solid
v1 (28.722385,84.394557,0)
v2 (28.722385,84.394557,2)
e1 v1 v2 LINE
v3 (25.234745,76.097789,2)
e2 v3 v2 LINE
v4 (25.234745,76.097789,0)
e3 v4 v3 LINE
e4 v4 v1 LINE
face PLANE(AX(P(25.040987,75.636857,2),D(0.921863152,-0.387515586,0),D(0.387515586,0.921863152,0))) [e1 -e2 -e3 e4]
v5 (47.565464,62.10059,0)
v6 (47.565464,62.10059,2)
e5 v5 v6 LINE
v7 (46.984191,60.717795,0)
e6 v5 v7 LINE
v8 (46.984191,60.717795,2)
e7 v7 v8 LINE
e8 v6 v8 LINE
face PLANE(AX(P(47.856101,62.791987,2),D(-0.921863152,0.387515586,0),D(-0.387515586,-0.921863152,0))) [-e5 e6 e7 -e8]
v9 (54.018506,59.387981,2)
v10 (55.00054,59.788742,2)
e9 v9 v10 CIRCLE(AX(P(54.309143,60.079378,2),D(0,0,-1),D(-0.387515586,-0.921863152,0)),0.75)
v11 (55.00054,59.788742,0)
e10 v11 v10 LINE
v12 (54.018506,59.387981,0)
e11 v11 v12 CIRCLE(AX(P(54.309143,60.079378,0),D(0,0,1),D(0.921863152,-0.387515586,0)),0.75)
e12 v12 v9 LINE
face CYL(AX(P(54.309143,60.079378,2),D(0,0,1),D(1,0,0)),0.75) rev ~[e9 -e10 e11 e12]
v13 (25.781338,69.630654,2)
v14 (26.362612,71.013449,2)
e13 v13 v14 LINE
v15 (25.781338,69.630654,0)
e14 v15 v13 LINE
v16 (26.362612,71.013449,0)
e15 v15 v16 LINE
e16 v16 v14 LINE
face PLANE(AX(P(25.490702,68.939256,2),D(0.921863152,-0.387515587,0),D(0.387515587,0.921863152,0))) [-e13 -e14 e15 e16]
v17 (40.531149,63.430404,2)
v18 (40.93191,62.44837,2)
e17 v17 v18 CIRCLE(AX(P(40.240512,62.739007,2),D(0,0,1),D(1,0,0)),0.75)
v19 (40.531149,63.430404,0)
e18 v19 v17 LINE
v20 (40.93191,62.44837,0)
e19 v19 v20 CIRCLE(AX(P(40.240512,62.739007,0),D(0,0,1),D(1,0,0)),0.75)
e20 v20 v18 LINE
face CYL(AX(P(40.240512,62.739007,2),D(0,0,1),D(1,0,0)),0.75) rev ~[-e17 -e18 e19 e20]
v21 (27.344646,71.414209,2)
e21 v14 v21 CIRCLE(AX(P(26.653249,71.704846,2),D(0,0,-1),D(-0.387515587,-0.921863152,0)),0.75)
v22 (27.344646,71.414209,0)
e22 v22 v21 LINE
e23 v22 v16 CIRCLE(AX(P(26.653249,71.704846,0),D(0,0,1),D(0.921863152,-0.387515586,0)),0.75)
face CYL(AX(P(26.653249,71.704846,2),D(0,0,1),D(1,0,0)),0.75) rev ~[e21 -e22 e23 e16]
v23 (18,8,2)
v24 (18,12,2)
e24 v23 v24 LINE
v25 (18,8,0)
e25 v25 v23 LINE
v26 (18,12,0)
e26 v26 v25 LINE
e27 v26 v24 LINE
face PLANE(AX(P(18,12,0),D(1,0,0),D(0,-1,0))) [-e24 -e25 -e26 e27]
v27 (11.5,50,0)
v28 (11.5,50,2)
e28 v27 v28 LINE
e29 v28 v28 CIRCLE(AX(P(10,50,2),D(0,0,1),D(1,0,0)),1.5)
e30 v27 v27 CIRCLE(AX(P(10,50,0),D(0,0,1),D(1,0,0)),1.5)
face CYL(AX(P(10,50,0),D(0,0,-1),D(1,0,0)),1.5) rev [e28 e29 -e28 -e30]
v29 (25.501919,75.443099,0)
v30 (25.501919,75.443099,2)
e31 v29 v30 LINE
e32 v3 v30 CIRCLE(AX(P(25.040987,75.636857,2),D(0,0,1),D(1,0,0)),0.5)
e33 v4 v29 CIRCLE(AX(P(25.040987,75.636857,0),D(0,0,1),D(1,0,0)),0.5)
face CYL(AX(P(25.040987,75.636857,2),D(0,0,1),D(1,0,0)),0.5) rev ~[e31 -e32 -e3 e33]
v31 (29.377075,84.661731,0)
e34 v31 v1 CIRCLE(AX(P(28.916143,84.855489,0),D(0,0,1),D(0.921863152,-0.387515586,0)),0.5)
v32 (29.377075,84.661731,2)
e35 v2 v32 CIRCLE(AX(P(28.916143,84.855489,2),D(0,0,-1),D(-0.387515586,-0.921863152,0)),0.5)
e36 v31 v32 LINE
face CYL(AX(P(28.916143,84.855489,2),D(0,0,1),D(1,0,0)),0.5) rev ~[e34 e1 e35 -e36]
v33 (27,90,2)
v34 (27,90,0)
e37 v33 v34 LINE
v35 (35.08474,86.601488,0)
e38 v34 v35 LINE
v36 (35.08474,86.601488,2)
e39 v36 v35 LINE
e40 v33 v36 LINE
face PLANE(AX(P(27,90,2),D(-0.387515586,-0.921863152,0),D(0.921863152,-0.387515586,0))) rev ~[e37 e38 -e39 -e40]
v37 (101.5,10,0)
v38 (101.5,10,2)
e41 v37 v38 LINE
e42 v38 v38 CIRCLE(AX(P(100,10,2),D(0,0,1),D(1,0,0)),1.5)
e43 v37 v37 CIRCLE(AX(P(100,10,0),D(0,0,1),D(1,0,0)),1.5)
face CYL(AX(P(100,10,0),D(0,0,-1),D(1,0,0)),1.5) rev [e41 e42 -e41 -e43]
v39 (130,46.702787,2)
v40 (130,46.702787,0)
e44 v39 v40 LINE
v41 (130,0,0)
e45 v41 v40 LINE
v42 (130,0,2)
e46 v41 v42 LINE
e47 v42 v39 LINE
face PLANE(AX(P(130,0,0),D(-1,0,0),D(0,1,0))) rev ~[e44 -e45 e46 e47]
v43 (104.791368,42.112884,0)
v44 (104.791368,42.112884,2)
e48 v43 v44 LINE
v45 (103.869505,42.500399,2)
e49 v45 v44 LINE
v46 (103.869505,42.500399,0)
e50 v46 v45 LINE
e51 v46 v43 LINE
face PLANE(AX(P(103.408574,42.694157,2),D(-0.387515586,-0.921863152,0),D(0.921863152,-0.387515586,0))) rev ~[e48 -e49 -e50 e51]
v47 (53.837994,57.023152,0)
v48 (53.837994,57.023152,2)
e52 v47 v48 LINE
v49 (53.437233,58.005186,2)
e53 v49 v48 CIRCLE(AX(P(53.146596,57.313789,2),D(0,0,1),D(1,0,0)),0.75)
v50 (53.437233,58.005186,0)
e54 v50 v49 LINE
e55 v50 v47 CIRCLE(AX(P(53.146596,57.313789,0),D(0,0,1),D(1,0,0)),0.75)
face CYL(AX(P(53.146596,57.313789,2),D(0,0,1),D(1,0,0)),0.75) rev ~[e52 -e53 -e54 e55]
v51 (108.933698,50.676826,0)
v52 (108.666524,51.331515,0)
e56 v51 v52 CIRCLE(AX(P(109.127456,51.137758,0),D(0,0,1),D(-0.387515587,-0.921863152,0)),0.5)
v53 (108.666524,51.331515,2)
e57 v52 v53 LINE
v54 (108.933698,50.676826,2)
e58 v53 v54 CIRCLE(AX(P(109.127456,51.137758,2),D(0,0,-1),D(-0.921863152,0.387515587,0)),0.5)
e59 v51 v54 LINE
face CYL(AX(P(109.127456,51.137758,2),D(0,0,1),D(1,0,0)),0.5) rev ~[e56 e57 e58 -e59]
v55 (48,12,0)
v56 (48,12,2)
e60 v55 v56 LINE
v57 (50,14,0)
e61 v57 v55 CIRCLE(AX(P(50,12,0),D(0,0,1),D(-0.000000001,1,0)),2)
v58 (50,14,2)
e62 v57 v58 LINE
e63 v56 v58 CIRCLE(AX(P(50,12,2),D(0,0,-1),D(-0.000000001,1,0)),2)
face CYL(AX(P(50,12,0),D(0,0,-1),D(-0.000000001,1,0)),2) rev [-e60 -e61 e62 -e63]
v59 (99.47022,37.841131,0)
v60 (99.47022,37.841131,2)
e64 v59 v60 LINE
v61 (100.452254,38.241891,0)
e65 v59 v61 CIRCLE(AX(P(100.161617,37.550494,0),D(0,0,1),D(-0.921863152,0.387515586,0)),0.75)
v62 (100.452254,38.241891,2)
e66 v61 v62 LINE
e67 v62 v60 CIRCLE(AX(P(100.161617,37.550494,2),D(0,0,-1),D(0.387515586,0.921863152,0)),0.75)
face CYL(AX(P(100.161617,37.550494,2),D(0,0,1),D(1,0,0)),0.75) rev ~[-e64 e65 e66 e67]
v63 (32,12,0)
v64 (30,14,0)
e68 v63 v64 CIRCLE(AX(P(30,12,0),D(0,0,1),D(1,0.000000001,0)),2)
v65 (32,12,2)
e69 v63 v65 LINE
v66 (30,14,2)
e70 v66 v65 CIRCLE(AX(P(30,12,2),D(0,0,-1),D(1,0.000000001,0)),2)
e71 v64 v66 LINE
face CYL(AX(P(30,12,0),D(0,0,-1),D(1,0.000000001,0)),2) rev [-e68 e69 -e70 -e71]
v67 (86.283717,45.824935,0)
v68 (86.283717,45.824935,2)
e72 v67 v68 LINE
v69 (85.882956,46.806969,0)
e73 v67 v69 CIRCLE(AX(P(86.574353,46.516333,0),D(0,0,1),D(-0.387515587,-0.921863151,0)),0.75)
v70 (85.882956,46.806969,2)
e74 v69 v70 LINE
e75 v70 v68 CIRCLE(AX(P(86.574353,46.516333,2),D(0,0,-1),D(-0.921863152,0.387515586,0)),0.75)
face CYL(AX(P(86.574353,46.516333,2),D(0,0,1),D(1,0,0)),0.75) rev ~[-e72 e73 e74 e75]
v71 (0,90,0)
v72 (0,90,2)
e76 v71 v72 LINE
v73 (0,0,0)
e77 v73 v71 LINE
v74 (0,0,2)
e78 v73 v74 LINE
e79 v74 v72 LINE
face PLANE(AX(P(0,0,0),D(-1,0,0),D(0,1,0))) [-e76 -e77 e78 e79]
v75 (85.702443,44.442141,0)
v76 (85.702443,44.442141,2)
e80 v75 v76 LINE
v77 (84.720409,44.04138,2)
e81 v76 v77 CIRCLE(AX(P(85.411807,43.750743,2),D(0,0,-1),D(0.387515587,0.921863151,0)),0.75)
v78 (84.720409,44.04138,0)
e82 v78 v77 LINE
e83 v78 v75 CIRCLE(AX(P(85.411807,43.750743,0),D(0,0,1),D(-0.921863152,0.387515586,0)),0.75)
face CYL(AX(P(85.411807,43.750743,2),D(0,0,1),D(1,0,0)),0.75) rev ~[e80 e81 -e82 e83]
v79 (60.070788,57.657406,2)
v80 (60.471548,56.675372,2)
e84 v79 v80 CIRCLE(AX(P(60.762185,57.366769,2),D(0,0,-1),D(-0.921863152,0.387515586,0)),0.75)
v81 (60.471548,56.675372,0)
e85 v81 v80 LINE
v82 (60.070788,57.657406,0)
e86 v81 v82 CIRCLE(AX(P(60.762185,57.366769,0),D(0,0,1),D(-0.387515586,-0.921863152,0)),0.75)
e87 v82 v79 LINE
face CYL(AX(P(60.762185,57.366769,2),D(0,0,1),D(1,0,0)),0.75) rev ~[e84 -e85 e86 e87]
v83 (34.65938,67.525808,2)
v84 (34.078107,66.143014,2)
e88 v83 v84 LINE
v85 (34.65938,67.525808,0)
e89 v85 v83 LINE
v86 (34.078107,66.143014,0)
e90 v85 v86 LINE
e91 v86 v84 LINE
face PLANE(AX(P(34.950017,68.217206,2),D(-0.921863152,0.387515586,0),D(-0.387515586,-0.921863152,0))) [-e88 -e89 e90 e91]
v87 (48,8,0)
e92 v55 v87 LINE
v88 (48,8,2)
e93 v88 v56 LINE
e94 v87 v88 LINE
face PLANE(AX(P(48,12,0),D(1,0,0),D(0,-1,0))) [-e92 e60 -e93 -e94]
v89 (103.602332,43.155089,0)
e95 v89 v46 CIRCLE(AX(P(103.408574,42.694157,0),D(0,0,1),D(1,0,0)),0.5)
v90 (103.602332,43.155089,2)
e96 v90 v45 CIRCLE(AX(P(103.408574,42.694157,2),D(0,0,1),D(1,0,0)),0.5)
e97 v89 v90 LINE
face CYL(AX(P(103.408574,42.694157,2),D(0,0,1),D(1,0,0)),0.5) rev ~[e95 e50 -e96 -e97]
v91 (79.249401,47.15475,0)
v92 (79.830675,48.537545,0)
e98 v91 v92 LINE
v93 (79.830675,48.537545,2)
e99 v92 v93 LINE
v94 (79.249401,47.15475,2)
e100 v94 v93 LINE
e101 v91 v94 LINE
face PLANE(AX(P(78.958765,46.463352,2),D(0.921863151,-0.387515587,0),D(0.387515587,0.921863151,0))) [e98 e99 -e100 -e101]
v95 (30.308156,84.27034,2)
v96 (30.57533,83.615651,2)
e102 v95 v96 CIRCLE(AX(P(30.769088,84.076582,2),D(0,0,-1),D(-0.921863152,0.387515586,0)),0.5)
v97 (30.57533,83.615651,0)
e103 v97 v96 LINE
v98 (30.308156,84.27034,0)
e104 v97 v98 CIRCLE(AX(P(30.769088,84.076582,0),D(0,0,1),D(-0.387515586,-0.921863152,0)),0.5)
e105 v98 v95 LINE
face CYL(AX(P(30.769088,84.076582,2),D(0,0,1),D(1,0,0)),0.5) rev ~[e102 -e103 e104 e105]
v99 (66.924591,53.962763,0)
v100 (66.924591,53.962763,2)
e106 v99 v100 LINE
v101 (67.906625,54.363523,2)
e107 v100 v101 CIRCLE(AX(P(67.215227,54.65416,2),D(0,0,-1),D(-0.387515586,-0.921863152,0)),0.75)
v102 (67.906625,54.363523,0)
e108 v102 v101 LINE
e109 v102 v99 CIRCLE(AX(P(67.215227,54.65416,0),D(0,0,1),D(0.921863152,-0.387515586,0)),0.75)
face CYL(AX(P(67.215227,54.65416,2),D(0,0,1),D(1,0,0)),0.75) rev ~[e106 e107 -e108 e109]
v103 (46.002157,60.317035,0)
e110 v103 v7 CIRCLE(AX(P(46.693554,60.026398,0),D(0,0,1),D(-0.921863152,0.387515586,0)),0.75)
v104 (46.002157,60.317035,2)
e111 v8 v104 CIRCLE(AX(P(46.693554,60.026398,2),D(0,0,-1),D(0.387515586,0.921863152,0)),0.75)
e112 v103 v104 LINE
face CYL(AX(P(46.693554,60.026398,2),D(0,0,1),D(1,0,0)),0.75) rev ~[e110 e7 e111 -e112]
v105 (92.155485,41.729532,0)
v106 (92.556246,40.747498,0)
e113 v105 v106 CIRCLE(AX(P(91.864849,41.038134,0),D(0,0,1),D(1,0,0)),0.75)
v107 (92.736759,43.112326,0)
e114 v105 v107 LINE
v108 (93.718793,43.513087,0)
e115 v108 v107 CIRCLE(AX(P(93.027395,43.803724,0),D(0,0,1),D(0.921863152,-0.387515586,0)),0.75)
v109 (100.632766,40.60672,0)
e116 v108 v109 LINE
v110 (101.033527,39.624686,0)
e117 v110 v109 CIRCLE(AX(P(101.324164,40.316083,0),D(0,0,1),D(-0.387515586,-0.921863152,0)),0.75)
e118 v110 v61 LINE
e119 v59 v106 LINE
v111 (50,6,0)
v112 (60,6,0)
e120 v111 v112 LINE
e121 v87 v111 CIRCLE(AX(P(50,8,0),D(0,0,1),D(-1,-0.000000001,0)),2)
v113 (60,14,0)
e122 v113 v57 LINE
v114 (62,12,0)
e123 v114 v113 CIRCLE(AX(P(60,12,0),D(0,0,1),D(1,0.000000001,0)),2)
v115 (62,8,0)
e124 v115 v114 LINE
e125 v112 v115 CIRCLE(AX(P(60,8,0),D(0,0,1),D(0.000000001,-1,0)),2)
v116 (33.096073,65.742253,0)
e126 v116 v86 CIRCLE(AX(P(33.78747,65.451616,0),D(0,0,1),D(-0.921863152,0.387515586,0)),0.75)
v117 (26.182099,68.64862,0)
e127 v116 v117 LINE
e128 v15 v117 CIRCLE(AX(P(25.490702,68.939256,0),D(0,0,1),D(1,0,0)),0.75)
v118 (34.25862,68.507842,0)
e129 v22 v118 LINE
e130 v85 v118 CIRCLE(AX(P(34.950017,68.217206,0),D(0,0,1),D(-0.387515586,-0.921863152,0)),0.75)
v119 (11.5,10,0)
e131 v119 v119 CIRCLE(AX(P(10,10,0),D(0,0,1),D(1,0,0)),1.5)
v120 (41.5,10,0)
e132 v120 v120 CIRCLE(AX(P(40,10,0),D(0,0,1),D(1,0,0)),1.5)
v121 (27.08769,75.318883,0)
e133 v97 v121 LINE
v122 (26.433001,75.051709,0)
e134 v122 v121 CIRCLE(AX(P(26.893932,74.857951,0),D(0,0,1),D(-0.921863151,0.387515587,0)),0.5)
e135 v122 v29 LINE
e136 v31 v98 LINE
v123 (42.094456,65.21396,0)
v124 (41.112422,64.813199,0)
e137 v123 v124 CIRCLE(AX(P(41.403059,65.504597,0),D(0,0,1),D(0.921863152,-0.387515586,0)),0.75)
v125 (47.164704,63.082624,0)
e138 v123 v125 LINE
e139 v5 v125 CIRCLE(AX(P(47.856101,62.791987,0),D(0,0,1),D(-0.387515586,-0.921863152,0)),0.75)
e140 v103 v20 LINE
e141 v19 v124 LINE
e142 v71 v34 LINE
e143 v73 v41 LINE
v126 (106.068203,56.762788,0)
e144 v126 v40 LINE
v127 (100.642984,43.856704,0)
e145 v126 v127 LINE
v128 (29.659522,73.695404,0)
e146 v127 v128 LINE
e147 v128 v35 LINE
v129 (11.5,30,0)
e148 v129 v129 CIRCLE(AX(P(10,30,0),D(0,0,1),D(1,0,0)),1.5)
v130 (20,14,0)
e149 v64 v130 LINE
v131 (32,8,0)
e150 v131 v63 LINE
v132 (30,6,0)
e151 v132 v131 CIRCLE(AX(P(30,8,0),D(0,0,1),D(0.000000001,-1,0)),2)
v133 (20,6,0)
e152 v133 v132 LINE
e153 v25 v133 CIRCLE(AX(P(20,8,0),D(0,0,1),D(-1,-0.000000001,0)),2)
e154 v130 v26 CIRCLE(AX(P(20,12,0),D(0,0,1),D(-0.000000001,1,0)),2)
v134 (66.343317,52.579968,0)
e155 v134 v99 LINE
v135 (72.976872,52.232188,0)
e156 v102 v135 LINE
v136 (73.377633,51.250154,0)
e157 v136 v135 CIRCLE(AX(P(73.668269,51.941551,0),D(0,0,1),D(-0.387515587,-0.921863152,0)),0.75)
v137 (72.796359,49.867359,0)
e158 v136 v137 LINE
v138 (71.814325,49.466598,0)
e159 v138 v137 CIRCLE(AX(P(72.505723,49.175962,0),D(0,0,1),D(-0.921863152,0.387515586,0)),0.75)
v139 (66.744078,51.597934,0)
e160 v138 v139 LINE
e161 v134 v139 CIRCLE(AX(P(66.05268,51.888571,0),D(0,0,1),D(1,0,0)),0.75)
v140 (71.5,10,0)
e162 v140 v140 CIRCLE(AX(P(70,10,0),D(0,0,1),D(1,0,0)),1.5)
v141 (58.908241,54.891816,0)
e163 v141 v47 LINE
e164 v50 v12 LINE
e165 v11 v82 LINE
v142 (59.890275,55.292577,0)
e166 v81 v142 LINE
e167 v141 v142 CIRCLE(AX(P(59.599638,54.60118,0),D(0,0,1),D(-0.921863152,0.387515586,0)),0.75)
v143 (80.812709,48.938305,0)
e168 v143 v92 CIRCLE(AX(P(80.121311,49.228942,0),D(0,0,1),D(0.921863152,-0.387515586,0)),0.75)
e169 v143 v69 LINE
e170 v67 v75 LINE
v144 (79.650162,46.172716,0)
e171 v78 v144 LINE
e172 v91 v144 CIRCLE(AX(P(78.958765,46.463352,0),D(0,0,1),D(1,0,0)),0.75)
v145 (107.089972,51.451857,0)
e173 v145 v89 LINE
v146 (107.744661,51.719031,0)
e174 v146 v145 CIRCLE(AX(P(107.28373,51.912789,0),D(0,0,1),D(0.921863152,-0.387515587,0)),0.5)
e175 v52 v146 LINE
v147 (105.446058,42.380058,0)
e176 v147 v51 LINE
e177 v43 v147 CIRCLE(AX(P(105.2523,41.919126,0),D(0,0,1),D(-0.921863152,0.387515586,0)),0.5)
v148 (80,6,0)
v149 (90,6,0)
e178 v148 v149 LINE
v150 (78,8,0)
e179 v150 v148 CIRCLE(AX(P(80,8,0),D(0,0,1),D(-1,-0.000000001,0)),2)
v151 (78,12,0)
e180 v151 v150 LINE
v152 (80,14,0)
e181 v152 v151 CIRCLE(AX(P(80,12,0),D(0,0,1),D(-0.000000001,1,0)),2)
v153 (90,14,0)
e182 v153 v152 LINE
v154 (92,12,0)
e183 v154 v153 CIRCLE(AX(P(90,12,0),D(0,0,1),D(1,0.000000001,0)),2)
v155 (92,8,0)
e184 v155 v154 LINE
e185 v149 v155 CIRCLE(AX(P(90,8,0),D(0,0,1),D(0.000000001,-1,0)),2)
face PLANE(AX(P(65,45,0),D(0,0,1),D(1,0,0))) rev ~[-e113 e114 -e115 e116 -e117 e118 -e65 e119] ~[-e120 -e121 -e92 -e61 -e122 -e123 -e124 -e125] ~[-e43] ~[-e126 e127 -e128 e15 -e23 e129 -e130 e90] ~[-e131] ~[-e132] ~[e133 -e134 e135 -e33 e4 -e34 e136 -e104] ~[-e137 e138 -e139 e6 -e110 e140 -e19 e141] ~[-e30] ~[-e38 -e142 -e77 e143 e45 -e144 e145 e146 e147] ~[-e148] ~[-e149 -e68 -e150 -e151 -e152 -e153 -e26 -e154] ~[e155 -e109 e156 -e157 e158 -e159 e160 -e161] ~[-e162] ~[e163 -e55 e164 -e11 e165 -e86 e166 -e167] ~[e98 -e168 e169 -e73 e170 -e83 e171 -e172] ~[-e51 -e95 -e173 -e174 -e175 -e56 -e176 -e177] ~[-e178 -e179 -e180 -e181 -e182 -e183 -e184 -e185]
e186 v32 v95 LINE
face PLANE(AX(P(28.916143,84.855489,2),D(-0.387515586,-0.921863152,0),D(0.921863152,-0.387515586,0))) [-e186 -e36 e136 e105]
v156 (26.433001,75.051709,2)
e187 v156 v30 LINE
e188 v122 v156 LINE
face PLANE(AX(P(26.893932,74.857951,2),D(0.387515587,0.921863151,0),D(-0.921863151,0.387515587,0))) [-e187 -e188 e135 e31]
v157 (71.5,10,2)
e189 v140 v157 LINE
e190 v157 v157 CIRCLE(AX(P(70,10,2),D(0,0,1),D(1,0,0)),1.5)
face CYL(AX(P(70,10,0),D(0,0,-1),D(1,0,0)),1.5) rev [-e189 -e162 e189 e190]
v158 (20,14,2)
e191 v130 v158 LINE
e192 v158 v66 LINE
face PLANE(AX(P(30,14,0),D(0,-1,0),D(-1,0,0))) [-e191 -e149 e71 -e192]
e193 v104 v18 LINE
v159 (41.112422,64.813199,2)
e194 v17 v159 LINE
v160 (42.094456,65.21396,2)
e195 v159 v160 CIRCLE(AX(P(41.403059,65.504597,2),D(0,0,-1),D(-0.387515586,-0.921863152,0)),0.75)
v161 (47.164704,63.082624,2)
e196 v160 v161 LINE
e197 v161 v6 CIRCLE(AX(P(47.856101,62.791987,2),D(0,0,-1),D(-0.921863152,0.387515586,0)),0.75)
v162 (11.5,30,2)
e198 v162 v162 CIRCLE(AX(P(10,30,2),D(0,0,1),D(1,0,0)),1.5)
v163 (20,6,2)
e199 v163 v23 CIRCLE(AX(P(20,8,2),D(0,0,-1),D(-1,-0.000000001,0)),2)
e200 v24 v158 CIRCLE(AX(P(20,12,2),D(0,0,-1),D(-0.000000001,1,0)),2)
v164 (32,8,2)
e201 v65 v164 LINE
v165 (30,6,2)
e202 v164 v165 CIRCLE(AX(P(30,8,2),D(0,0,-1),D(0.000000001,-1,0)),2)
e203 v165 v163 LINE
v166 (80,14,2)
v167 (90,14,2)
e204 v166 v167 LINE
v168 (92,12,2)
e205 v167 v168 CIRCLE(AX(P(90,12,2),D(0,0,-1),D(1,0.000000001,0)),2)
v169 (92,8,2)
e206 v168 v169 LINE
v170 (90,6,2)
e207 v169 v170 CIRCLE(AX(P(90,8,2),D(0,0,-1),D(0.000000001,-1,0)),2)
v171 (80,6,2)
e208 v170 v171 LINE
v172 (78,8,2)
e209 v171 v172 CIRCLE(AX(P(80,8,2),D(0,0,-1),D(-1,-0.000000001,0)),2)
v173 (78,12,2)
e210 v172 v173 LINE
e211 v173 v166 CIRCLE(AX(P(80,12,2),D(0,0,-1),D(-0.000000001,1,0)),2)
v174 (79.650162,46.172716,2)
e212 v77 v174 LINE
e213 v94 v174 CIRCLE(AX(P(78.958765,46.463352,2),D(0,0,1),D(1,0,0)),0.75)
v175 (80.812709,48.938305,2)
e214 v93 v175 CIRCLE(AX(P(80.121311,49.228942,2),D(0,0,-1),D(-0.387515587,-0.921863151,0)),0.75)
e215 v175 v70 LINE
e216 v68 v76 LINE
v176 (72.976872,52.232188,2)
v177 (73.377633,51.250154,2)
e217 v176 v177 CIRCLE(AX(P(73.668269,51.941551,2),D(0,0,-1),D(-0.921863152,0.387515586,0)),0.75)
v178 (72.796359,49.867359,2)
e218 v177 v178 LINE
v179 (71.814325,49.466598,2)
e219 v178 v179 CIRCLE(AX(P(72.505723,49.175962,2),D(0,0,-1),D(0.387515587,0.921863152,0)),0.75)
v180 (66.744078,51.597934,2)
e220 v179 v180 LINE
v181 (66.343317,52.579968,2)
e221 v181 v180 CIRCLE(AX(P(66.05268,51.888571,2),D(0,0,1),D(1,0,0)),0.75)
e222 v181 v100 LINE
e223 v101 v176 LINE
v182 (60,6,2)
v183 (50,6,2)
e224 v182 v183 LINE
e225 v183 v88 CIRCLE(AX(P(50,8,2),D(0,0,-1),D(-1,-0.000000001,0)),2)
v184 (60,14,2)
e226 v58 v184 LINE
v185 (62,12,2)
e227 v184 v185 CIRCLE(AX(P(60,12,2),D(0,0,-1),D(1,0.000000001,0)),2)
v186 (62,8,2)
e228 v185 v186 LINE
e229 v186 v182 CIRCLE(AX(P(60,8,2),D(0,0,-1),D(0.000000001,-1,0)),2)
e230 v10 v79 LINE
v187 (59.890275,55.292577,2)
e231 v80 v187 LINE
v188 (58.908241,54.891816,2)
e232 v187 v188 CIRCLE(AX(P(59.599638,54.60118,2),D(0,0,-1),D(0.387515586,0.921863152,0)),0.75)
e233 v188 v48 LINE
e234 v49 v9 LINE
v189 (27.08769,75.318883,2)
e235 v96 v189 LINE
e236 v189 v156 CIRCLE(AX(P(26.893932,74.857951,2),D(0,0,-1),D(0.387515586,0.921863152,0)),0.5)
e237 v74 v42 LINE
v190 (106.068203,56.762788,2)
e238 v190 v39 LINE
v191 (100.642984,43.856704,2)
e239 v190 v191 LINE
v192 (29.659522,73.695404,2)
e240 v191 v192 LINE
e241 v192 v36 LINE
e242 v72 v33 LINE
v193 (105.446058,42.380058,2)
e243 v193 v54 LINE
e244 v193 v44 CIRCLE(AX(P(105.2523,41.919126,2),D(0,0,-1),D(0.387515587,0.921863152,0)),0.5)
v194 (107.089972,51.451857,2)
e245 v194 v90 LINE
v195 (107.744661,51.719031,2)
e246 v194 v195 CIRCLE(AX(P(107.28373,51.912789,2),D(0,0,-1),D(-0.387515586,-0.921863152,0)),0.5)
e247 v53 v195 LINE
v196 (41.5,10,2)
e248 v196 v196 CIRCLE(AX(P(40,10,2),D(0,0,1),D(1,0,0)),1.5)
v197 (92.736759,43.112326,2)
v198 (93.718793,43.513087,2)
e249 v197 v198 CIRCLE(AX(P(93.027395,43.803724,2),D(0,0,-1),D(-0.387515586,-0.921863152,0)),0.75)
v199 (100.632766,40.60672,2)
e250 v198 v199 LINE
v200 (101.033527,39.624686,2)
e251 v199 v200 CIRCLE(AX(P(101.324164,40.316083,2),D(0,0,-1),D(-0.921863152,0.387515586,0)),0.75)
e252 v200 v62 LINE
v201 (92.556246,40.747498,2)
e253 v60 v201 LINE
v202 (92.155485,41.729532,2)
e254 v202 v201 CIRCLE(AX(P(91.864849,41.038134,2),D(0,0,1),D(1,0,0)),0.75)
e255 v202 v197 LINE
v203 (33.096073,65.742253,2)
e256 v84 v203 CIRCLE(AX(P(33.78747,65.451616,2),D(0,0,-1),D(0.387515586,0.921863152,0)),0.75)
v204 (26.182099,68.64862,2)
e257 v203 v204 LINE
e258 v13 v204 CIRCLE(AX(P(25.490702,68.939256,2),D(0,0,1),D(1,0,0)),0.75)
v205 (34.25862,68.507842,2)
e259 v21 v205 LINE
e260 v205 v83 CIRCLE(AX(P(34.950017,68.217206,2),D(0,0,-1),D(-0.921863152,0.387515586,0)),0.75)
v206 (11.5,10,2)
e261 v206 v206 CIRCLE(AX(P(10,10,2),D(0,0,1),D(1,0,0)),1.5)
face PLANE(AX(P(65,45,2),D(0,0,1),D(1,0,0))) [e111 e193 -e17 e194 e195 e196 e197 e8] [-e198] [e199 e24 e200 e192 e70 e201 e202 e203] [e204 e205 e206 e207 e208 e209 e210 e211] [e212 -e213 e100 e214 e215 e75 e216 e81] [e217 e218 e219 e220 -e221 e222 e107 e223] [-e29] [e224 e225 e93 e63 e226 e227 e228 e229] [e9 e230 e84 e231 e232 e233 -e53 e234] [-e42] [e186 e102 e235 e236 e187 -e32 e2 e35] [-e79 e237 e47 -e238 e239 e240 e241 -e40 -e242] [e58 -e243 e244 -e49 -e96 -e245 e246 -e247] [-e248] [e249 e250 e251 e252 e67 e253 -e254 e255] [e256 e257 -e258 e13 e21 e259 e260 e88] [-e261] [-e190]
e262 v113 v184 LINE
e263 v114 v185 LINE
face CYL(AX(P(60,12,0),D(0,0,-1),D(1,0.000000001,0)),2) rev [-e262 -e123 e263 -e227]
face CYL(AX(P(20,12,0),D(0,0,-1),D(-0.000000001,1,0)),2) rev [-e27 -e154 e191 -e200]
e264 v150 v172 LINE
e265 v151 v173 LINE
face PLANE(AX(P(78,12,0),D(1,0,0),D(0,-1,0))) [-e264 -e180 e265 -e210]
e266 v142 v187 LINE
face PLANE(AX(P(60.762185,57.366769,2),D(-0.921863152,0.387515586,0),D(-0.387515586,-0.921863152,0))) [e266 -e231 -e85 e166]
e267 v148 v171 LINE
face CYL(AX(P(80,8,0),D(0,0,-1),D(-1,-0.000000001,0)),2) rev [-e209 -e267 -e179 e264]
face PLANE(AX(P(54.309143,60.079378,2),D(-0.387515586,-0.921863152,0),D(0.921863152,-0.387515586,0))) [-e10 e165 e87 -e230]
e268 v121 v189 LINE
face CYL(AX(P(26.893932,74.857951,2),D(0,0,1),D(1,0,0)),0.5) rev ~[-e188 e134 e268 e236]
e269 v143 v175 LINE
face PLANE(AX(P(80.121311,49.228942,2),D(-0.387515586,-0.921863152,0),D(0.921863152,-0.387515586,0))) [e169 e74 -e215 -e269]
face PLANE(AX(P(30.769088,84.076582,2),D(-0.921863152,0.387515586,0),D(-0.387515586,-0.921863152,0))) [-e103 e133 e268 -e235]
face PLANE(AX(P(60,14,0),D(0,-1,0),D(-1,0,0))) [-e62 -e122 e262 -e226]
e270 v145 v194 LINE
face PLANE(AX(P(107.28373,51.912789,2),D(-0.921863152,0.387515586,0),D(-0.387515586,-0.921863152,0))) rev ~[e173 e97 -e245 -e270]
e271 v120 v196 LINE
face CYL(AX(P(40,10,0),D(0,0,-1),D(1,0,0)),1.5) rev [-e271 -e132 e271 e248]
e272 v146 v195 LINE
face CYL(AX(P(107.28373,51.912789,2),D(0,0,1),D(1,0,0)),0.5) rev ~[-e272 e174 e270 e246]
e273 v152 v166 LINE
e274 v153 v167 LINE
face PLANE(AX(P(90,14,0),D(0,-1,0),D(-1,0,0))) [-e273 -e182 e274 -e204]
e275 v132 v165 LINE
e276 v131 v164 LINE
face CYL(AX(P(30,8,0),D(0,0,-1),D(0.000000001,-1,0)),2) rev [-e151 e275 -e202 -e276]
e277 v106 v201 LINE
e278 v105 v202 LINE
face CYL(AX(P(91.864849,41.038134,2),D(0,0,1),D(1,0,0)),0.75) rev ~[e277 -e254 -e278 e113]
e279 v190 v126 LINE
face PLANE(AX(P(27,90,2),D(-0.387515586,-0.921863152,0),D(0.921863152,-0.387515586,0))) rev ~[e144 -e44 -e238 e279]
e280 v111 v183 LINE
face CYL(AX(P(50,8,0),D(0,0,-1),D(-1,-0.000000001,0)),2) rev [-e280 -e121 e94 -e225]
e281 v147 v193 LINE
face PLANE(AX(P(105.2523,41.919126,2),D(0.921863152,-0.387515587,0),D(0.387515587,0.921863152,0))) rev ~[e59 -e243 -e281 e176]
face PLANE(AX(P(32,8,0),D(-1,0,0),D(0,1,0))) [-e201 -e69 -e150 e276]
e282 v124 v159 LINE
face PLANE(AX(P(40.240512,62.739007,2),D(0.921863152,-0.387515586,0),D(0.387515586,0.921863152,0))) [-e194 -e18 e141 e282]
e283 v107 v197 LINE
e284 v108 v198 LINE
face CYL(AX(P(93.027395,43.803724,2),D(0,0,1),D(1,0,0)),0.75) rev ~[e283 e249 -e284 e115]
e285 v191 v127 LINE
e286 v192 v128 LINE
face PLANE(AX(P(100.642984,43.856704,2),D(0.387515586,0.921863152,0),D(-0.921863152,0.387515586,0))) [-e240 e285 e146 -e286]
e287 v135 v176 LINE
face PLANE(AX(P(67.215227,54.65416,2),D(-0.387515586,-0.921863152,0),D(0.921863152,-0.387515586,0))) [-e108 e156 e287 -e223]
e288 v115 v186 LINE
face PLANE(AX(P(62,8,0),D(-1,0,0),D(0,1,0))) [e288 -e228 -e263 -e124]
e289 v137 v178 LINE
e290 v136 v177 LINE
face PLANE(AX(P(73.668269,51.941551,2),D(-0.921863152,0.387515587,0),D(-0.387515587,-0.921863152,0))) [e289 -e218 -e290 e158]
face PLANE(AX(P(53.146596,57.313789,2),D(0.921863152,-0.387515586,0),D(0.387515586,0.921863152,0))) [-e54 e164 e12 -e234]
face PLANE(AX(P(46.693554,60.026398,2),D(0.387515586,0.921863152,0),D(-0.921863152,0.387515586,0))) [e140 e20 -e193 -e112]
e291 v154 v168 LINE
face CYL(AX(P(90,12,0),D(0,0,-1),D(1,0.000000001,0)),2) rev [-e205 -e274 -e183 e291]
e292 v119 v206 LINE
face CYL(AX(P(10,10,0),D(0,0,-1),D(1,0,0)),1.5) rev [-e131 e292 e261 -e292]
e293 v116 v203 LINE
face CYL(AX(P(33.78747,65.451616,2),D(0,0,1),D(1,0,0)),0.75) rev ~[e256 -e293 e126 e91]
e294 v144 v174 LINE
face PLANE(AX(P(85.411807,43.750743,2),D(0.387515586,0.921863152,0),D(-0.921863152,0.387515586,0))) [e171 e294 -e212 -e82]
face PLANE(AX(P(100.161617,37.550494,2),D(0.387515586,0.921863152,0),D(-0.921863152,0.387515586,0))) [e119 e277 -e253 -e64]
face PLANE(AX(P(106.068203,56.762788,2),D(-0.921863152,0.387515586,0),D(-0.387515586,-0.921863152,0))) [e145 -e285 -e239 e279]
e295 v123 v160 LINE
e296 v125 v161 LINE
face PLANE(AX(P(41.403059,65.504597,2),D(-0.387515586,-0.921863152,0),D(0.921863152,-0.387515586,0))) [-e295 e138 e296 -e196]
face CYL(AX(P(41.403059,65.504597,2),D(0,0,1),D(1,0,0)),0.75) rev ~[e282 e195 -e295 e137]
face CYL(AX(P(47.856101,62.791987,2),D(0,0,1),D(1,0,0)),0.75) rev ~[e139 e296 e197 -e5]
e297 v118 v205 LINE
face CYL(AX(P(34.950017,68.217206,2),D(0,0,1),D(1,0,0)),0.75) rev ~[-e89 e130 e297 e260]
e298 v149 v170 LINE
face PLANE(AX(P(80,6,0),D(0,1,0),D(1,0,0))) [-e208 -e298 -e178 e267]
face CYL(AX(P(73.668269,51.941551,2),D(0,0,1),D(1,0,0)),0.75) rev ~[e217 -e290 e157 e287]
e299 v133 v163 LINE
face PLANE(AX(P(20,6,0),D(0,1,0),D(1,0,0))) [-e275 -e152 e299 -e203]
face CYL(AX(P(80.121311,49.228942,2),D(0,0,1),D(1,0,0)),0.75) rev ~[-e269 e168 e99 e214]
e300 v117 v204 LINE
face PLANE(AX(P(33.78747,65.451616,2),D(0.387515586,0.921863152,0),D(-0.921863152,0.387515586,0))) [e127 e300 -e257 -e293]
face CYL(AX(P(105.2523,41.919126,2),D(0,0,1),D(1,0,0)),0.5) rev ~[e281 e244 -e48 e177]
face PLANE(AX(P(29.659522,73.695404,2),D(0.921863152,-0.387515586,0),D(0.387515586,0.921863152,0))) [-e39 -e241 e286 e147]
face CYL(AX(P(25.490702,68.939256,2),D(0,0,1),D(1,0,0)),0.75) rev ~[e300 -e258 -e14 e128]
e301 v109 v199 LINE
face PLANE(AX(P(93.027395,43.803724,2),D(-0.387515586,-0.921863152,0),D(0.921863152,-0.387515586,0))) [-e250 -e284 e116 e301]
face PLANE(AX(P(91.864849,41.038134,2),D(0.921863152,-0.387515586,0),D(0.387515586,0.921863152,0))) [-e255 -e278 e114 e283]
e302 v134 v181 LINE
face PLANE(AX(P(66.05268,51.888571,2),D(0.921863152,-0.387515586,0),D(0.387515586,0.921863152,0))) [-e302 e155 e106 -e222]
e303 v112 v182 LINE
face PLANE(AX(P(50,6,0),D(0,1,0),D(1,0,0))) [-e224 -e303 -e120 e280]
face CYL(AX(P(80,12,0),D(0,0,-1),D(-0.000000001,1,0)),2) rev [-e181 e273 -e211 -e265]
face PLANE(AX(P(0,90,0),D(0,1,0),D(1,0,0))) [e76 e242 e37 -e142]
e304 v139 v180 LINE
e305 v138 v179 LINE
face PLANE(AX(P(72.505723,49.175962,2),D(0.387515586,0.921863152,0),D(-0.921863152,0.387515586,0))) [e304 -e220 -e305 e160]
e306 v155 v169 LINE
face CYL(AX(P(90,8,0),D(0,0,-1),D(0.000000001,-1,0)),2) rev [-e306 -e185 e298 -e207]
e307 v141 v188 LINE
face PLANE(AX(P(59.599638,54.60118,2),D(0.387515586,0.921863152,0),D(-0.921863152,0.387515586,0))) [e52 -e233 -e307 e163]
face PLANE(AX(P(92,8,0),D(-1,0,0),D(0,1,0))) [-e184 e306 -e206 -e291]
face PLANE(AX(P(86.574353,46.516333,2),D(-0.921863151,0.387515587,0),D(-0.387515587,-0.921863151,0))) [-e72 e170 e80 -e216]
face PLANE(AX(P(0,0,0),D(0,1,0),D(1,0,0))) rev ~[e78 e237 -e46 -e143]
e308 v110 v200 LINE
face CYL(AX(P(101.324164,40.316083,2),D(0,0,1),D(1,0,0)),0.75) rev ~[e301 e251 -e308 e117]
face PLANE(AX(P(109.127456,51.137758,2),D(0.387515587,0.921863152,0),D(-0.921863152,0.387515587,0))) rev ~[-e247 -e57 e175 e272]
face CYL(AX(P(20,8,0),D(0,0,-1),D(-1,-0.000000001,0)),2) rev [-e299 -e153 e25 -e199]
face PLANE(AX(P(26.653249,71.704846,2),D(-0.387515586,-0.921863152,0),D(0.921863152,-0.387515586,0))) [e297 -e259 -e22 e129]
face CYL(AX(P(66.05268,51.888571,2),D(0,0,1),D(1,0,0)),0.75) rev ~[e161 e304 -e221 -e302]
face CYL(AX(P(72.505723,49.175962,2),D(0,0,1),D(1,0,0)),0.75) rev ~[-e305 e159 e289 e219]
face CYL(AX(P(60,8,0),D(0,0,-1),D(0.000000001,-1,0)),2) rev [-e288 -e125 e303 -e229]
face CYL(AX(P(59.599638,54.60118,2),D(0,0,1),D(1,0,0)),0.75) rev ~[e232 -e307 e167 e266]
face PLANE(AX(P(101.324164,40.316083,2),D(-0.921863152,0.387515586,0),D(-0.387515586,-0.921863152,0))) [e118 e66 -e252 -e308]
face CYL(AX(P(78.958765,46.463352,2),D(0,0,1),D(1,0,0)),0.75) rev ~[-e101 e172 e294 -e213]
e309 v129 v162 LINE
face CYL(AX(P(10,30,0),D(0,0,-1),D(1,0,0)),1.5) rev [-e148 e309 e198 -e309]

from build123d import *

# Parameters (mm, degrees)
SKETCH_1_W          = 130
SKETCH_1_H          = 90
SKETCH_1_R          = 1.5
EXTRUDE_1_DEPTH     = 2
CUT_EXTRUDE_1_DEPTH = 3
CUT_EXTRUDE_2_DEPTH = 3
CUT_EXTRUDE_3_DEPTH = 3
SKETCH_6_R          = 0.75
SKETCH_6_R_2        = 0.5
CUT_EXTRUDE_5_DEPTH = 10
CUT_EXTRUDE_7_DEPTH = 3


with BuildPart() as part:
    # 草图1 → 凸台-拉伸1 (new body)
    with BuildSketch(Plane.XY):
        with Locations((65, 45)):
            Rectangle(SKETCH_1_W, SKETCH_1_H)
        with Locations((10, 10)):
            Circle(SKETCH_1_R, mode=Mode.SUBTRACT)
        with Locations((10, 30)):
            Circle(SKETCH_1_R, mode=Mode.SUBTRACT)
        with Locations((10, 50)):
            Circle(SKETCH_1_R, mode=Mode.SUBTRACT)
        with Locations((40, 10)):
            Circle(SKETCH_1_R, mode=Mode.SUBTRACT)
        with Locations((70, 10)):
            Circle(SKETCH_1_R, mode=Mode.SUBTRACT)
        with Locations((100, 10)):
            Circle(SKETCH_1_R, mode=Mode.SUBTRACT)
    extrude(amount=EXTRUDE_1_DEPTH)

    # 草图2 → 切除-拉伸1 (cut, through all)
    with BuildSketch(Plane.XY.offset(2)):
        Polygon((27, 90), (130, 46.702786812), (130, 90), align=None)
    extrude(amount=-CUT_EXTRUDE_1_DEPTH, mode=Mode.SUBTRACT)

    # 草图3 → 切除-拉伸2 (cut, through all)
    with BuildSketch(Plane.XY.offset(2)):
        Polygon((35.084739839, 86.601488307), (106.068202512, 56.76278815), (100.642984301, 43.856704028), (29.659521629, 73.695404185), align=None)
    extrude(amount=-CUT_EXTRUDE_2_DEPTH, mode=Mode.SUBTRACT)

    # 草图4 → 切除-拉伸3 (cut, through all)
    with BuildSketch(Plane.XY.offset(2)):
        Polygon((30.769088039, 84.07658246), (26.893932174, 74.857950944), (25.04098724, 75.636857273), (28.916143104, 84.855488789), align=None)
        Polygon((107.283729621, 51.912788784), (103.408573756, 42.694157268), (105.252300059, 41.919126096), (109.127455924, 51.137757611), align=None)
        Polygon((26.653248567, 71.704845903), (34.950016931, 68.217205625), (33.787470172, 65.45161617), (25.490701807, 68.939256448), align=None)
        Polygon((41.403058992, 65.504596519), (47.856101053, 62.791987414), (46.693554294, 60.02639796), (40.240512233, 62.739007065), align=None)
        Polygon((80.121311359, 49.228941888), (86.57435342, 46.516332783), (85.41180666, 43.750743329), (78.958764599, 46.463352434), align=None)
        Polygon((93.027395481, 43.803723678), (101.324163845, 40.3160834), (100.161617086, 37.550493945), (91.864848722, 41.038134223), align=None)
        Polygon((54.309143114, 60.079378309), (60.762185175, 57.366769204), (59.599638416, 54.601179749), (53.146596355, 57.313788854), align=None)
        Polygon((67.215227236, 54.654160099), (73.668269298, 51.941550994), (72.505722538, 49.175961539), (66.052680477, 51.888570644), align=None)
    extrude(amount=-CUT_EXTRUDE_3_DEPTH, mode=Mode.SUBTRACT)

    # 草图6 → 切除-拉伸5 (cut)
    with BuildSketch(Plane.XY.offset(2)):
        with Locations((25.490701807, 68.939256448)):
            Circle(SKETCH_6_R)
        with Locations((26.653248567, 71.704845903)):
            Circle(SKETCH_6_R)
        with Locations((34.950016931, 68.217205625)):
            Circle(SKETCH_6_R)
        with Locations((33.787470172, 65.45161617)):
            Circle(SKETCH_6_R)
        with Locations((46.693554294, 60.02639796)):
            Circle(SKETCH_6_R)
        with Locations((40.240512233, 62.739007065)):
            Circle(SKETCH_6_R)
        with Locations((41.403058992, 65.504596519)):
            Circle(SKETCH_6_R)
        with Locations((47.856101053, 62.791987414)):
            Circle(SKETCH_6_R)
        with Locations((80.121311359, 49.228941888)):
            Circle(SKETCH_6_R)
        with Locations((78.958764599, 46.463352434)):
            Circle(SKETCH_6_R)
        with Locations((85.41180666, 43.750743329)):
            Circle(SKETCH_6_R)
        with Locations((86.57435342, 46.516332783)):
            Circle(SKETCH_6_R)
        with Locations((100.161617086, 37.550493945)):
            Circle(SKETCH_6_R)
        with Locations((101.324163845, 40.3160834)):
            Circle(SKETCH_6_R)
        with Locations((93.027395481, 43.803723678)):
            Circle(SKETCH_6_R)
        with Locations((91.864848722, 41.038134223)):
            Circle(SKETCH_6_R)
        with Locations((26.893932174, 74.857950944)):
            Circle(SKETCH_6_R_2)
        with Locations((25.04098724, 75.636857273)):
            Circle(SKETCH_6_R_2)
        with Locations((28.916143104, 84.855488789)):
            Circle(SKETCH_6_R_2)
        with Locations((30.769088039, 84.07658246)):
            Circle(SKETCH_6_R_2)
        with Locations((105.252300059, 41.919126096)):
            Circle(SKETCH_6_R_2)
        with Locations((103.408573756, 42.694157268)):
            Circle(SKETCH_6_R_2)
        with Locations((107.283729621, 51.912788784)):
            Circle(SKETCH_6_R_2)
        with Locations((109.127455924, 51.137757611)):
            Circle(SKETCH_6_R_2)
        with Locations((54.309143114, 60.079378309)):
            Circle(SKETCH_6_R)
        with Locations((60.762185175, 57.366769204)):
            Circle(SKETCH_6_R)
        with Locations((53.146596355, 57.313788854)):
            Circle(SKETCH_6_R)
        with Locations((59.599638416, 54.601179749)):
            Circle(SKETCH_6_R)
        with Locations((67.215227236, 54.654160099)):
            Circle(SKETCH_6_R)
        with Locations((73.668269298, 51.941550994)):
            Circle(SKETCH_6_R)
        with Locations((72.505722538, 49.175961539)):
            Circle(SKETCH_6_R)
        with Locations((66.052680477, 51.888570644)):
            Circle(SKETCH_6_R)
    extrude(amount=-CUT_EXTRUDE_5_DEPTH, mode=Mode.SUBTRACT)

    # 草图8 → 切除-拉伸7 (cut, through all)
    with BuildSketch(Plane(origin=(0, 0, 0), x_dir=(-1, 0, 0), z_dir=(0, 0, -1))):
        with BuildLine():
            Line((-90, 14), (-80, 14))
            ThreePointArc((-80, 14), (-78.585786438, 13.414213562), (-78, 12))
            Line((-78, 12), (-78, 8))
            ThreePointArc((-78, 8), (-78.585786438, 6.585786438), (-80, 6))
            Line((-80, 6), (-90, 6))
            ThreePointArc((-90, 6), (-91.414213562, 6.585786438), (-92, 8))
            Line((-92, 8), (-92, 12))
            ThreePointArc((-92, 12), (-91.414213562, 13.414213562), (-90, 14))
        make_face()
        with BuildLine():
            Line((-62, 8), (-62, 12))
            ThreePointArc((-62, 12), (-61.414213562, 13.414213562), (-60, 14))
            Line((-60, 14), (-50, 14))
            ThreePointArc((-50, 14), (-48.585786438, 13.414213562), (-48, 12))
            Line((-48, 12), (-48, 8))
            ThreePointArc((-48, 8), (-48.585786438, 6.585786438), (-50, 6))
            Line((-50, 6), (-60, 6))
            ThreePointArc((-60, 6), (-61.414213562, 6.585786438), (-62, 8))
        make_face()
        with BuildLine():
            Line((-30, 14), (-20, 14))
            ThreePointArc((-20, 14), (-18.585786438, 13.414213562), (-18, 12))
            Line((-18, 12), (-18, 8))
            ThreePointArc((-18, 8), (-18.585786438, 6.585786438), (-20, 6))
            Line((-20, 6), (-30, 6))
            ThreePointArc((-30, 6), (-31.414213562, 6.585786438), (-32, 8))
            Line((-32, 8), (-32, 12))
            ThreePointArc((-32, 12), (-31.414213562, 13.414213562), (-30, 14))
        make_face()
    extrude(amount=-CUT_EXTRUDE_7_DEPTH, mode=Mode.SUBTRACT)


solid = part.part
